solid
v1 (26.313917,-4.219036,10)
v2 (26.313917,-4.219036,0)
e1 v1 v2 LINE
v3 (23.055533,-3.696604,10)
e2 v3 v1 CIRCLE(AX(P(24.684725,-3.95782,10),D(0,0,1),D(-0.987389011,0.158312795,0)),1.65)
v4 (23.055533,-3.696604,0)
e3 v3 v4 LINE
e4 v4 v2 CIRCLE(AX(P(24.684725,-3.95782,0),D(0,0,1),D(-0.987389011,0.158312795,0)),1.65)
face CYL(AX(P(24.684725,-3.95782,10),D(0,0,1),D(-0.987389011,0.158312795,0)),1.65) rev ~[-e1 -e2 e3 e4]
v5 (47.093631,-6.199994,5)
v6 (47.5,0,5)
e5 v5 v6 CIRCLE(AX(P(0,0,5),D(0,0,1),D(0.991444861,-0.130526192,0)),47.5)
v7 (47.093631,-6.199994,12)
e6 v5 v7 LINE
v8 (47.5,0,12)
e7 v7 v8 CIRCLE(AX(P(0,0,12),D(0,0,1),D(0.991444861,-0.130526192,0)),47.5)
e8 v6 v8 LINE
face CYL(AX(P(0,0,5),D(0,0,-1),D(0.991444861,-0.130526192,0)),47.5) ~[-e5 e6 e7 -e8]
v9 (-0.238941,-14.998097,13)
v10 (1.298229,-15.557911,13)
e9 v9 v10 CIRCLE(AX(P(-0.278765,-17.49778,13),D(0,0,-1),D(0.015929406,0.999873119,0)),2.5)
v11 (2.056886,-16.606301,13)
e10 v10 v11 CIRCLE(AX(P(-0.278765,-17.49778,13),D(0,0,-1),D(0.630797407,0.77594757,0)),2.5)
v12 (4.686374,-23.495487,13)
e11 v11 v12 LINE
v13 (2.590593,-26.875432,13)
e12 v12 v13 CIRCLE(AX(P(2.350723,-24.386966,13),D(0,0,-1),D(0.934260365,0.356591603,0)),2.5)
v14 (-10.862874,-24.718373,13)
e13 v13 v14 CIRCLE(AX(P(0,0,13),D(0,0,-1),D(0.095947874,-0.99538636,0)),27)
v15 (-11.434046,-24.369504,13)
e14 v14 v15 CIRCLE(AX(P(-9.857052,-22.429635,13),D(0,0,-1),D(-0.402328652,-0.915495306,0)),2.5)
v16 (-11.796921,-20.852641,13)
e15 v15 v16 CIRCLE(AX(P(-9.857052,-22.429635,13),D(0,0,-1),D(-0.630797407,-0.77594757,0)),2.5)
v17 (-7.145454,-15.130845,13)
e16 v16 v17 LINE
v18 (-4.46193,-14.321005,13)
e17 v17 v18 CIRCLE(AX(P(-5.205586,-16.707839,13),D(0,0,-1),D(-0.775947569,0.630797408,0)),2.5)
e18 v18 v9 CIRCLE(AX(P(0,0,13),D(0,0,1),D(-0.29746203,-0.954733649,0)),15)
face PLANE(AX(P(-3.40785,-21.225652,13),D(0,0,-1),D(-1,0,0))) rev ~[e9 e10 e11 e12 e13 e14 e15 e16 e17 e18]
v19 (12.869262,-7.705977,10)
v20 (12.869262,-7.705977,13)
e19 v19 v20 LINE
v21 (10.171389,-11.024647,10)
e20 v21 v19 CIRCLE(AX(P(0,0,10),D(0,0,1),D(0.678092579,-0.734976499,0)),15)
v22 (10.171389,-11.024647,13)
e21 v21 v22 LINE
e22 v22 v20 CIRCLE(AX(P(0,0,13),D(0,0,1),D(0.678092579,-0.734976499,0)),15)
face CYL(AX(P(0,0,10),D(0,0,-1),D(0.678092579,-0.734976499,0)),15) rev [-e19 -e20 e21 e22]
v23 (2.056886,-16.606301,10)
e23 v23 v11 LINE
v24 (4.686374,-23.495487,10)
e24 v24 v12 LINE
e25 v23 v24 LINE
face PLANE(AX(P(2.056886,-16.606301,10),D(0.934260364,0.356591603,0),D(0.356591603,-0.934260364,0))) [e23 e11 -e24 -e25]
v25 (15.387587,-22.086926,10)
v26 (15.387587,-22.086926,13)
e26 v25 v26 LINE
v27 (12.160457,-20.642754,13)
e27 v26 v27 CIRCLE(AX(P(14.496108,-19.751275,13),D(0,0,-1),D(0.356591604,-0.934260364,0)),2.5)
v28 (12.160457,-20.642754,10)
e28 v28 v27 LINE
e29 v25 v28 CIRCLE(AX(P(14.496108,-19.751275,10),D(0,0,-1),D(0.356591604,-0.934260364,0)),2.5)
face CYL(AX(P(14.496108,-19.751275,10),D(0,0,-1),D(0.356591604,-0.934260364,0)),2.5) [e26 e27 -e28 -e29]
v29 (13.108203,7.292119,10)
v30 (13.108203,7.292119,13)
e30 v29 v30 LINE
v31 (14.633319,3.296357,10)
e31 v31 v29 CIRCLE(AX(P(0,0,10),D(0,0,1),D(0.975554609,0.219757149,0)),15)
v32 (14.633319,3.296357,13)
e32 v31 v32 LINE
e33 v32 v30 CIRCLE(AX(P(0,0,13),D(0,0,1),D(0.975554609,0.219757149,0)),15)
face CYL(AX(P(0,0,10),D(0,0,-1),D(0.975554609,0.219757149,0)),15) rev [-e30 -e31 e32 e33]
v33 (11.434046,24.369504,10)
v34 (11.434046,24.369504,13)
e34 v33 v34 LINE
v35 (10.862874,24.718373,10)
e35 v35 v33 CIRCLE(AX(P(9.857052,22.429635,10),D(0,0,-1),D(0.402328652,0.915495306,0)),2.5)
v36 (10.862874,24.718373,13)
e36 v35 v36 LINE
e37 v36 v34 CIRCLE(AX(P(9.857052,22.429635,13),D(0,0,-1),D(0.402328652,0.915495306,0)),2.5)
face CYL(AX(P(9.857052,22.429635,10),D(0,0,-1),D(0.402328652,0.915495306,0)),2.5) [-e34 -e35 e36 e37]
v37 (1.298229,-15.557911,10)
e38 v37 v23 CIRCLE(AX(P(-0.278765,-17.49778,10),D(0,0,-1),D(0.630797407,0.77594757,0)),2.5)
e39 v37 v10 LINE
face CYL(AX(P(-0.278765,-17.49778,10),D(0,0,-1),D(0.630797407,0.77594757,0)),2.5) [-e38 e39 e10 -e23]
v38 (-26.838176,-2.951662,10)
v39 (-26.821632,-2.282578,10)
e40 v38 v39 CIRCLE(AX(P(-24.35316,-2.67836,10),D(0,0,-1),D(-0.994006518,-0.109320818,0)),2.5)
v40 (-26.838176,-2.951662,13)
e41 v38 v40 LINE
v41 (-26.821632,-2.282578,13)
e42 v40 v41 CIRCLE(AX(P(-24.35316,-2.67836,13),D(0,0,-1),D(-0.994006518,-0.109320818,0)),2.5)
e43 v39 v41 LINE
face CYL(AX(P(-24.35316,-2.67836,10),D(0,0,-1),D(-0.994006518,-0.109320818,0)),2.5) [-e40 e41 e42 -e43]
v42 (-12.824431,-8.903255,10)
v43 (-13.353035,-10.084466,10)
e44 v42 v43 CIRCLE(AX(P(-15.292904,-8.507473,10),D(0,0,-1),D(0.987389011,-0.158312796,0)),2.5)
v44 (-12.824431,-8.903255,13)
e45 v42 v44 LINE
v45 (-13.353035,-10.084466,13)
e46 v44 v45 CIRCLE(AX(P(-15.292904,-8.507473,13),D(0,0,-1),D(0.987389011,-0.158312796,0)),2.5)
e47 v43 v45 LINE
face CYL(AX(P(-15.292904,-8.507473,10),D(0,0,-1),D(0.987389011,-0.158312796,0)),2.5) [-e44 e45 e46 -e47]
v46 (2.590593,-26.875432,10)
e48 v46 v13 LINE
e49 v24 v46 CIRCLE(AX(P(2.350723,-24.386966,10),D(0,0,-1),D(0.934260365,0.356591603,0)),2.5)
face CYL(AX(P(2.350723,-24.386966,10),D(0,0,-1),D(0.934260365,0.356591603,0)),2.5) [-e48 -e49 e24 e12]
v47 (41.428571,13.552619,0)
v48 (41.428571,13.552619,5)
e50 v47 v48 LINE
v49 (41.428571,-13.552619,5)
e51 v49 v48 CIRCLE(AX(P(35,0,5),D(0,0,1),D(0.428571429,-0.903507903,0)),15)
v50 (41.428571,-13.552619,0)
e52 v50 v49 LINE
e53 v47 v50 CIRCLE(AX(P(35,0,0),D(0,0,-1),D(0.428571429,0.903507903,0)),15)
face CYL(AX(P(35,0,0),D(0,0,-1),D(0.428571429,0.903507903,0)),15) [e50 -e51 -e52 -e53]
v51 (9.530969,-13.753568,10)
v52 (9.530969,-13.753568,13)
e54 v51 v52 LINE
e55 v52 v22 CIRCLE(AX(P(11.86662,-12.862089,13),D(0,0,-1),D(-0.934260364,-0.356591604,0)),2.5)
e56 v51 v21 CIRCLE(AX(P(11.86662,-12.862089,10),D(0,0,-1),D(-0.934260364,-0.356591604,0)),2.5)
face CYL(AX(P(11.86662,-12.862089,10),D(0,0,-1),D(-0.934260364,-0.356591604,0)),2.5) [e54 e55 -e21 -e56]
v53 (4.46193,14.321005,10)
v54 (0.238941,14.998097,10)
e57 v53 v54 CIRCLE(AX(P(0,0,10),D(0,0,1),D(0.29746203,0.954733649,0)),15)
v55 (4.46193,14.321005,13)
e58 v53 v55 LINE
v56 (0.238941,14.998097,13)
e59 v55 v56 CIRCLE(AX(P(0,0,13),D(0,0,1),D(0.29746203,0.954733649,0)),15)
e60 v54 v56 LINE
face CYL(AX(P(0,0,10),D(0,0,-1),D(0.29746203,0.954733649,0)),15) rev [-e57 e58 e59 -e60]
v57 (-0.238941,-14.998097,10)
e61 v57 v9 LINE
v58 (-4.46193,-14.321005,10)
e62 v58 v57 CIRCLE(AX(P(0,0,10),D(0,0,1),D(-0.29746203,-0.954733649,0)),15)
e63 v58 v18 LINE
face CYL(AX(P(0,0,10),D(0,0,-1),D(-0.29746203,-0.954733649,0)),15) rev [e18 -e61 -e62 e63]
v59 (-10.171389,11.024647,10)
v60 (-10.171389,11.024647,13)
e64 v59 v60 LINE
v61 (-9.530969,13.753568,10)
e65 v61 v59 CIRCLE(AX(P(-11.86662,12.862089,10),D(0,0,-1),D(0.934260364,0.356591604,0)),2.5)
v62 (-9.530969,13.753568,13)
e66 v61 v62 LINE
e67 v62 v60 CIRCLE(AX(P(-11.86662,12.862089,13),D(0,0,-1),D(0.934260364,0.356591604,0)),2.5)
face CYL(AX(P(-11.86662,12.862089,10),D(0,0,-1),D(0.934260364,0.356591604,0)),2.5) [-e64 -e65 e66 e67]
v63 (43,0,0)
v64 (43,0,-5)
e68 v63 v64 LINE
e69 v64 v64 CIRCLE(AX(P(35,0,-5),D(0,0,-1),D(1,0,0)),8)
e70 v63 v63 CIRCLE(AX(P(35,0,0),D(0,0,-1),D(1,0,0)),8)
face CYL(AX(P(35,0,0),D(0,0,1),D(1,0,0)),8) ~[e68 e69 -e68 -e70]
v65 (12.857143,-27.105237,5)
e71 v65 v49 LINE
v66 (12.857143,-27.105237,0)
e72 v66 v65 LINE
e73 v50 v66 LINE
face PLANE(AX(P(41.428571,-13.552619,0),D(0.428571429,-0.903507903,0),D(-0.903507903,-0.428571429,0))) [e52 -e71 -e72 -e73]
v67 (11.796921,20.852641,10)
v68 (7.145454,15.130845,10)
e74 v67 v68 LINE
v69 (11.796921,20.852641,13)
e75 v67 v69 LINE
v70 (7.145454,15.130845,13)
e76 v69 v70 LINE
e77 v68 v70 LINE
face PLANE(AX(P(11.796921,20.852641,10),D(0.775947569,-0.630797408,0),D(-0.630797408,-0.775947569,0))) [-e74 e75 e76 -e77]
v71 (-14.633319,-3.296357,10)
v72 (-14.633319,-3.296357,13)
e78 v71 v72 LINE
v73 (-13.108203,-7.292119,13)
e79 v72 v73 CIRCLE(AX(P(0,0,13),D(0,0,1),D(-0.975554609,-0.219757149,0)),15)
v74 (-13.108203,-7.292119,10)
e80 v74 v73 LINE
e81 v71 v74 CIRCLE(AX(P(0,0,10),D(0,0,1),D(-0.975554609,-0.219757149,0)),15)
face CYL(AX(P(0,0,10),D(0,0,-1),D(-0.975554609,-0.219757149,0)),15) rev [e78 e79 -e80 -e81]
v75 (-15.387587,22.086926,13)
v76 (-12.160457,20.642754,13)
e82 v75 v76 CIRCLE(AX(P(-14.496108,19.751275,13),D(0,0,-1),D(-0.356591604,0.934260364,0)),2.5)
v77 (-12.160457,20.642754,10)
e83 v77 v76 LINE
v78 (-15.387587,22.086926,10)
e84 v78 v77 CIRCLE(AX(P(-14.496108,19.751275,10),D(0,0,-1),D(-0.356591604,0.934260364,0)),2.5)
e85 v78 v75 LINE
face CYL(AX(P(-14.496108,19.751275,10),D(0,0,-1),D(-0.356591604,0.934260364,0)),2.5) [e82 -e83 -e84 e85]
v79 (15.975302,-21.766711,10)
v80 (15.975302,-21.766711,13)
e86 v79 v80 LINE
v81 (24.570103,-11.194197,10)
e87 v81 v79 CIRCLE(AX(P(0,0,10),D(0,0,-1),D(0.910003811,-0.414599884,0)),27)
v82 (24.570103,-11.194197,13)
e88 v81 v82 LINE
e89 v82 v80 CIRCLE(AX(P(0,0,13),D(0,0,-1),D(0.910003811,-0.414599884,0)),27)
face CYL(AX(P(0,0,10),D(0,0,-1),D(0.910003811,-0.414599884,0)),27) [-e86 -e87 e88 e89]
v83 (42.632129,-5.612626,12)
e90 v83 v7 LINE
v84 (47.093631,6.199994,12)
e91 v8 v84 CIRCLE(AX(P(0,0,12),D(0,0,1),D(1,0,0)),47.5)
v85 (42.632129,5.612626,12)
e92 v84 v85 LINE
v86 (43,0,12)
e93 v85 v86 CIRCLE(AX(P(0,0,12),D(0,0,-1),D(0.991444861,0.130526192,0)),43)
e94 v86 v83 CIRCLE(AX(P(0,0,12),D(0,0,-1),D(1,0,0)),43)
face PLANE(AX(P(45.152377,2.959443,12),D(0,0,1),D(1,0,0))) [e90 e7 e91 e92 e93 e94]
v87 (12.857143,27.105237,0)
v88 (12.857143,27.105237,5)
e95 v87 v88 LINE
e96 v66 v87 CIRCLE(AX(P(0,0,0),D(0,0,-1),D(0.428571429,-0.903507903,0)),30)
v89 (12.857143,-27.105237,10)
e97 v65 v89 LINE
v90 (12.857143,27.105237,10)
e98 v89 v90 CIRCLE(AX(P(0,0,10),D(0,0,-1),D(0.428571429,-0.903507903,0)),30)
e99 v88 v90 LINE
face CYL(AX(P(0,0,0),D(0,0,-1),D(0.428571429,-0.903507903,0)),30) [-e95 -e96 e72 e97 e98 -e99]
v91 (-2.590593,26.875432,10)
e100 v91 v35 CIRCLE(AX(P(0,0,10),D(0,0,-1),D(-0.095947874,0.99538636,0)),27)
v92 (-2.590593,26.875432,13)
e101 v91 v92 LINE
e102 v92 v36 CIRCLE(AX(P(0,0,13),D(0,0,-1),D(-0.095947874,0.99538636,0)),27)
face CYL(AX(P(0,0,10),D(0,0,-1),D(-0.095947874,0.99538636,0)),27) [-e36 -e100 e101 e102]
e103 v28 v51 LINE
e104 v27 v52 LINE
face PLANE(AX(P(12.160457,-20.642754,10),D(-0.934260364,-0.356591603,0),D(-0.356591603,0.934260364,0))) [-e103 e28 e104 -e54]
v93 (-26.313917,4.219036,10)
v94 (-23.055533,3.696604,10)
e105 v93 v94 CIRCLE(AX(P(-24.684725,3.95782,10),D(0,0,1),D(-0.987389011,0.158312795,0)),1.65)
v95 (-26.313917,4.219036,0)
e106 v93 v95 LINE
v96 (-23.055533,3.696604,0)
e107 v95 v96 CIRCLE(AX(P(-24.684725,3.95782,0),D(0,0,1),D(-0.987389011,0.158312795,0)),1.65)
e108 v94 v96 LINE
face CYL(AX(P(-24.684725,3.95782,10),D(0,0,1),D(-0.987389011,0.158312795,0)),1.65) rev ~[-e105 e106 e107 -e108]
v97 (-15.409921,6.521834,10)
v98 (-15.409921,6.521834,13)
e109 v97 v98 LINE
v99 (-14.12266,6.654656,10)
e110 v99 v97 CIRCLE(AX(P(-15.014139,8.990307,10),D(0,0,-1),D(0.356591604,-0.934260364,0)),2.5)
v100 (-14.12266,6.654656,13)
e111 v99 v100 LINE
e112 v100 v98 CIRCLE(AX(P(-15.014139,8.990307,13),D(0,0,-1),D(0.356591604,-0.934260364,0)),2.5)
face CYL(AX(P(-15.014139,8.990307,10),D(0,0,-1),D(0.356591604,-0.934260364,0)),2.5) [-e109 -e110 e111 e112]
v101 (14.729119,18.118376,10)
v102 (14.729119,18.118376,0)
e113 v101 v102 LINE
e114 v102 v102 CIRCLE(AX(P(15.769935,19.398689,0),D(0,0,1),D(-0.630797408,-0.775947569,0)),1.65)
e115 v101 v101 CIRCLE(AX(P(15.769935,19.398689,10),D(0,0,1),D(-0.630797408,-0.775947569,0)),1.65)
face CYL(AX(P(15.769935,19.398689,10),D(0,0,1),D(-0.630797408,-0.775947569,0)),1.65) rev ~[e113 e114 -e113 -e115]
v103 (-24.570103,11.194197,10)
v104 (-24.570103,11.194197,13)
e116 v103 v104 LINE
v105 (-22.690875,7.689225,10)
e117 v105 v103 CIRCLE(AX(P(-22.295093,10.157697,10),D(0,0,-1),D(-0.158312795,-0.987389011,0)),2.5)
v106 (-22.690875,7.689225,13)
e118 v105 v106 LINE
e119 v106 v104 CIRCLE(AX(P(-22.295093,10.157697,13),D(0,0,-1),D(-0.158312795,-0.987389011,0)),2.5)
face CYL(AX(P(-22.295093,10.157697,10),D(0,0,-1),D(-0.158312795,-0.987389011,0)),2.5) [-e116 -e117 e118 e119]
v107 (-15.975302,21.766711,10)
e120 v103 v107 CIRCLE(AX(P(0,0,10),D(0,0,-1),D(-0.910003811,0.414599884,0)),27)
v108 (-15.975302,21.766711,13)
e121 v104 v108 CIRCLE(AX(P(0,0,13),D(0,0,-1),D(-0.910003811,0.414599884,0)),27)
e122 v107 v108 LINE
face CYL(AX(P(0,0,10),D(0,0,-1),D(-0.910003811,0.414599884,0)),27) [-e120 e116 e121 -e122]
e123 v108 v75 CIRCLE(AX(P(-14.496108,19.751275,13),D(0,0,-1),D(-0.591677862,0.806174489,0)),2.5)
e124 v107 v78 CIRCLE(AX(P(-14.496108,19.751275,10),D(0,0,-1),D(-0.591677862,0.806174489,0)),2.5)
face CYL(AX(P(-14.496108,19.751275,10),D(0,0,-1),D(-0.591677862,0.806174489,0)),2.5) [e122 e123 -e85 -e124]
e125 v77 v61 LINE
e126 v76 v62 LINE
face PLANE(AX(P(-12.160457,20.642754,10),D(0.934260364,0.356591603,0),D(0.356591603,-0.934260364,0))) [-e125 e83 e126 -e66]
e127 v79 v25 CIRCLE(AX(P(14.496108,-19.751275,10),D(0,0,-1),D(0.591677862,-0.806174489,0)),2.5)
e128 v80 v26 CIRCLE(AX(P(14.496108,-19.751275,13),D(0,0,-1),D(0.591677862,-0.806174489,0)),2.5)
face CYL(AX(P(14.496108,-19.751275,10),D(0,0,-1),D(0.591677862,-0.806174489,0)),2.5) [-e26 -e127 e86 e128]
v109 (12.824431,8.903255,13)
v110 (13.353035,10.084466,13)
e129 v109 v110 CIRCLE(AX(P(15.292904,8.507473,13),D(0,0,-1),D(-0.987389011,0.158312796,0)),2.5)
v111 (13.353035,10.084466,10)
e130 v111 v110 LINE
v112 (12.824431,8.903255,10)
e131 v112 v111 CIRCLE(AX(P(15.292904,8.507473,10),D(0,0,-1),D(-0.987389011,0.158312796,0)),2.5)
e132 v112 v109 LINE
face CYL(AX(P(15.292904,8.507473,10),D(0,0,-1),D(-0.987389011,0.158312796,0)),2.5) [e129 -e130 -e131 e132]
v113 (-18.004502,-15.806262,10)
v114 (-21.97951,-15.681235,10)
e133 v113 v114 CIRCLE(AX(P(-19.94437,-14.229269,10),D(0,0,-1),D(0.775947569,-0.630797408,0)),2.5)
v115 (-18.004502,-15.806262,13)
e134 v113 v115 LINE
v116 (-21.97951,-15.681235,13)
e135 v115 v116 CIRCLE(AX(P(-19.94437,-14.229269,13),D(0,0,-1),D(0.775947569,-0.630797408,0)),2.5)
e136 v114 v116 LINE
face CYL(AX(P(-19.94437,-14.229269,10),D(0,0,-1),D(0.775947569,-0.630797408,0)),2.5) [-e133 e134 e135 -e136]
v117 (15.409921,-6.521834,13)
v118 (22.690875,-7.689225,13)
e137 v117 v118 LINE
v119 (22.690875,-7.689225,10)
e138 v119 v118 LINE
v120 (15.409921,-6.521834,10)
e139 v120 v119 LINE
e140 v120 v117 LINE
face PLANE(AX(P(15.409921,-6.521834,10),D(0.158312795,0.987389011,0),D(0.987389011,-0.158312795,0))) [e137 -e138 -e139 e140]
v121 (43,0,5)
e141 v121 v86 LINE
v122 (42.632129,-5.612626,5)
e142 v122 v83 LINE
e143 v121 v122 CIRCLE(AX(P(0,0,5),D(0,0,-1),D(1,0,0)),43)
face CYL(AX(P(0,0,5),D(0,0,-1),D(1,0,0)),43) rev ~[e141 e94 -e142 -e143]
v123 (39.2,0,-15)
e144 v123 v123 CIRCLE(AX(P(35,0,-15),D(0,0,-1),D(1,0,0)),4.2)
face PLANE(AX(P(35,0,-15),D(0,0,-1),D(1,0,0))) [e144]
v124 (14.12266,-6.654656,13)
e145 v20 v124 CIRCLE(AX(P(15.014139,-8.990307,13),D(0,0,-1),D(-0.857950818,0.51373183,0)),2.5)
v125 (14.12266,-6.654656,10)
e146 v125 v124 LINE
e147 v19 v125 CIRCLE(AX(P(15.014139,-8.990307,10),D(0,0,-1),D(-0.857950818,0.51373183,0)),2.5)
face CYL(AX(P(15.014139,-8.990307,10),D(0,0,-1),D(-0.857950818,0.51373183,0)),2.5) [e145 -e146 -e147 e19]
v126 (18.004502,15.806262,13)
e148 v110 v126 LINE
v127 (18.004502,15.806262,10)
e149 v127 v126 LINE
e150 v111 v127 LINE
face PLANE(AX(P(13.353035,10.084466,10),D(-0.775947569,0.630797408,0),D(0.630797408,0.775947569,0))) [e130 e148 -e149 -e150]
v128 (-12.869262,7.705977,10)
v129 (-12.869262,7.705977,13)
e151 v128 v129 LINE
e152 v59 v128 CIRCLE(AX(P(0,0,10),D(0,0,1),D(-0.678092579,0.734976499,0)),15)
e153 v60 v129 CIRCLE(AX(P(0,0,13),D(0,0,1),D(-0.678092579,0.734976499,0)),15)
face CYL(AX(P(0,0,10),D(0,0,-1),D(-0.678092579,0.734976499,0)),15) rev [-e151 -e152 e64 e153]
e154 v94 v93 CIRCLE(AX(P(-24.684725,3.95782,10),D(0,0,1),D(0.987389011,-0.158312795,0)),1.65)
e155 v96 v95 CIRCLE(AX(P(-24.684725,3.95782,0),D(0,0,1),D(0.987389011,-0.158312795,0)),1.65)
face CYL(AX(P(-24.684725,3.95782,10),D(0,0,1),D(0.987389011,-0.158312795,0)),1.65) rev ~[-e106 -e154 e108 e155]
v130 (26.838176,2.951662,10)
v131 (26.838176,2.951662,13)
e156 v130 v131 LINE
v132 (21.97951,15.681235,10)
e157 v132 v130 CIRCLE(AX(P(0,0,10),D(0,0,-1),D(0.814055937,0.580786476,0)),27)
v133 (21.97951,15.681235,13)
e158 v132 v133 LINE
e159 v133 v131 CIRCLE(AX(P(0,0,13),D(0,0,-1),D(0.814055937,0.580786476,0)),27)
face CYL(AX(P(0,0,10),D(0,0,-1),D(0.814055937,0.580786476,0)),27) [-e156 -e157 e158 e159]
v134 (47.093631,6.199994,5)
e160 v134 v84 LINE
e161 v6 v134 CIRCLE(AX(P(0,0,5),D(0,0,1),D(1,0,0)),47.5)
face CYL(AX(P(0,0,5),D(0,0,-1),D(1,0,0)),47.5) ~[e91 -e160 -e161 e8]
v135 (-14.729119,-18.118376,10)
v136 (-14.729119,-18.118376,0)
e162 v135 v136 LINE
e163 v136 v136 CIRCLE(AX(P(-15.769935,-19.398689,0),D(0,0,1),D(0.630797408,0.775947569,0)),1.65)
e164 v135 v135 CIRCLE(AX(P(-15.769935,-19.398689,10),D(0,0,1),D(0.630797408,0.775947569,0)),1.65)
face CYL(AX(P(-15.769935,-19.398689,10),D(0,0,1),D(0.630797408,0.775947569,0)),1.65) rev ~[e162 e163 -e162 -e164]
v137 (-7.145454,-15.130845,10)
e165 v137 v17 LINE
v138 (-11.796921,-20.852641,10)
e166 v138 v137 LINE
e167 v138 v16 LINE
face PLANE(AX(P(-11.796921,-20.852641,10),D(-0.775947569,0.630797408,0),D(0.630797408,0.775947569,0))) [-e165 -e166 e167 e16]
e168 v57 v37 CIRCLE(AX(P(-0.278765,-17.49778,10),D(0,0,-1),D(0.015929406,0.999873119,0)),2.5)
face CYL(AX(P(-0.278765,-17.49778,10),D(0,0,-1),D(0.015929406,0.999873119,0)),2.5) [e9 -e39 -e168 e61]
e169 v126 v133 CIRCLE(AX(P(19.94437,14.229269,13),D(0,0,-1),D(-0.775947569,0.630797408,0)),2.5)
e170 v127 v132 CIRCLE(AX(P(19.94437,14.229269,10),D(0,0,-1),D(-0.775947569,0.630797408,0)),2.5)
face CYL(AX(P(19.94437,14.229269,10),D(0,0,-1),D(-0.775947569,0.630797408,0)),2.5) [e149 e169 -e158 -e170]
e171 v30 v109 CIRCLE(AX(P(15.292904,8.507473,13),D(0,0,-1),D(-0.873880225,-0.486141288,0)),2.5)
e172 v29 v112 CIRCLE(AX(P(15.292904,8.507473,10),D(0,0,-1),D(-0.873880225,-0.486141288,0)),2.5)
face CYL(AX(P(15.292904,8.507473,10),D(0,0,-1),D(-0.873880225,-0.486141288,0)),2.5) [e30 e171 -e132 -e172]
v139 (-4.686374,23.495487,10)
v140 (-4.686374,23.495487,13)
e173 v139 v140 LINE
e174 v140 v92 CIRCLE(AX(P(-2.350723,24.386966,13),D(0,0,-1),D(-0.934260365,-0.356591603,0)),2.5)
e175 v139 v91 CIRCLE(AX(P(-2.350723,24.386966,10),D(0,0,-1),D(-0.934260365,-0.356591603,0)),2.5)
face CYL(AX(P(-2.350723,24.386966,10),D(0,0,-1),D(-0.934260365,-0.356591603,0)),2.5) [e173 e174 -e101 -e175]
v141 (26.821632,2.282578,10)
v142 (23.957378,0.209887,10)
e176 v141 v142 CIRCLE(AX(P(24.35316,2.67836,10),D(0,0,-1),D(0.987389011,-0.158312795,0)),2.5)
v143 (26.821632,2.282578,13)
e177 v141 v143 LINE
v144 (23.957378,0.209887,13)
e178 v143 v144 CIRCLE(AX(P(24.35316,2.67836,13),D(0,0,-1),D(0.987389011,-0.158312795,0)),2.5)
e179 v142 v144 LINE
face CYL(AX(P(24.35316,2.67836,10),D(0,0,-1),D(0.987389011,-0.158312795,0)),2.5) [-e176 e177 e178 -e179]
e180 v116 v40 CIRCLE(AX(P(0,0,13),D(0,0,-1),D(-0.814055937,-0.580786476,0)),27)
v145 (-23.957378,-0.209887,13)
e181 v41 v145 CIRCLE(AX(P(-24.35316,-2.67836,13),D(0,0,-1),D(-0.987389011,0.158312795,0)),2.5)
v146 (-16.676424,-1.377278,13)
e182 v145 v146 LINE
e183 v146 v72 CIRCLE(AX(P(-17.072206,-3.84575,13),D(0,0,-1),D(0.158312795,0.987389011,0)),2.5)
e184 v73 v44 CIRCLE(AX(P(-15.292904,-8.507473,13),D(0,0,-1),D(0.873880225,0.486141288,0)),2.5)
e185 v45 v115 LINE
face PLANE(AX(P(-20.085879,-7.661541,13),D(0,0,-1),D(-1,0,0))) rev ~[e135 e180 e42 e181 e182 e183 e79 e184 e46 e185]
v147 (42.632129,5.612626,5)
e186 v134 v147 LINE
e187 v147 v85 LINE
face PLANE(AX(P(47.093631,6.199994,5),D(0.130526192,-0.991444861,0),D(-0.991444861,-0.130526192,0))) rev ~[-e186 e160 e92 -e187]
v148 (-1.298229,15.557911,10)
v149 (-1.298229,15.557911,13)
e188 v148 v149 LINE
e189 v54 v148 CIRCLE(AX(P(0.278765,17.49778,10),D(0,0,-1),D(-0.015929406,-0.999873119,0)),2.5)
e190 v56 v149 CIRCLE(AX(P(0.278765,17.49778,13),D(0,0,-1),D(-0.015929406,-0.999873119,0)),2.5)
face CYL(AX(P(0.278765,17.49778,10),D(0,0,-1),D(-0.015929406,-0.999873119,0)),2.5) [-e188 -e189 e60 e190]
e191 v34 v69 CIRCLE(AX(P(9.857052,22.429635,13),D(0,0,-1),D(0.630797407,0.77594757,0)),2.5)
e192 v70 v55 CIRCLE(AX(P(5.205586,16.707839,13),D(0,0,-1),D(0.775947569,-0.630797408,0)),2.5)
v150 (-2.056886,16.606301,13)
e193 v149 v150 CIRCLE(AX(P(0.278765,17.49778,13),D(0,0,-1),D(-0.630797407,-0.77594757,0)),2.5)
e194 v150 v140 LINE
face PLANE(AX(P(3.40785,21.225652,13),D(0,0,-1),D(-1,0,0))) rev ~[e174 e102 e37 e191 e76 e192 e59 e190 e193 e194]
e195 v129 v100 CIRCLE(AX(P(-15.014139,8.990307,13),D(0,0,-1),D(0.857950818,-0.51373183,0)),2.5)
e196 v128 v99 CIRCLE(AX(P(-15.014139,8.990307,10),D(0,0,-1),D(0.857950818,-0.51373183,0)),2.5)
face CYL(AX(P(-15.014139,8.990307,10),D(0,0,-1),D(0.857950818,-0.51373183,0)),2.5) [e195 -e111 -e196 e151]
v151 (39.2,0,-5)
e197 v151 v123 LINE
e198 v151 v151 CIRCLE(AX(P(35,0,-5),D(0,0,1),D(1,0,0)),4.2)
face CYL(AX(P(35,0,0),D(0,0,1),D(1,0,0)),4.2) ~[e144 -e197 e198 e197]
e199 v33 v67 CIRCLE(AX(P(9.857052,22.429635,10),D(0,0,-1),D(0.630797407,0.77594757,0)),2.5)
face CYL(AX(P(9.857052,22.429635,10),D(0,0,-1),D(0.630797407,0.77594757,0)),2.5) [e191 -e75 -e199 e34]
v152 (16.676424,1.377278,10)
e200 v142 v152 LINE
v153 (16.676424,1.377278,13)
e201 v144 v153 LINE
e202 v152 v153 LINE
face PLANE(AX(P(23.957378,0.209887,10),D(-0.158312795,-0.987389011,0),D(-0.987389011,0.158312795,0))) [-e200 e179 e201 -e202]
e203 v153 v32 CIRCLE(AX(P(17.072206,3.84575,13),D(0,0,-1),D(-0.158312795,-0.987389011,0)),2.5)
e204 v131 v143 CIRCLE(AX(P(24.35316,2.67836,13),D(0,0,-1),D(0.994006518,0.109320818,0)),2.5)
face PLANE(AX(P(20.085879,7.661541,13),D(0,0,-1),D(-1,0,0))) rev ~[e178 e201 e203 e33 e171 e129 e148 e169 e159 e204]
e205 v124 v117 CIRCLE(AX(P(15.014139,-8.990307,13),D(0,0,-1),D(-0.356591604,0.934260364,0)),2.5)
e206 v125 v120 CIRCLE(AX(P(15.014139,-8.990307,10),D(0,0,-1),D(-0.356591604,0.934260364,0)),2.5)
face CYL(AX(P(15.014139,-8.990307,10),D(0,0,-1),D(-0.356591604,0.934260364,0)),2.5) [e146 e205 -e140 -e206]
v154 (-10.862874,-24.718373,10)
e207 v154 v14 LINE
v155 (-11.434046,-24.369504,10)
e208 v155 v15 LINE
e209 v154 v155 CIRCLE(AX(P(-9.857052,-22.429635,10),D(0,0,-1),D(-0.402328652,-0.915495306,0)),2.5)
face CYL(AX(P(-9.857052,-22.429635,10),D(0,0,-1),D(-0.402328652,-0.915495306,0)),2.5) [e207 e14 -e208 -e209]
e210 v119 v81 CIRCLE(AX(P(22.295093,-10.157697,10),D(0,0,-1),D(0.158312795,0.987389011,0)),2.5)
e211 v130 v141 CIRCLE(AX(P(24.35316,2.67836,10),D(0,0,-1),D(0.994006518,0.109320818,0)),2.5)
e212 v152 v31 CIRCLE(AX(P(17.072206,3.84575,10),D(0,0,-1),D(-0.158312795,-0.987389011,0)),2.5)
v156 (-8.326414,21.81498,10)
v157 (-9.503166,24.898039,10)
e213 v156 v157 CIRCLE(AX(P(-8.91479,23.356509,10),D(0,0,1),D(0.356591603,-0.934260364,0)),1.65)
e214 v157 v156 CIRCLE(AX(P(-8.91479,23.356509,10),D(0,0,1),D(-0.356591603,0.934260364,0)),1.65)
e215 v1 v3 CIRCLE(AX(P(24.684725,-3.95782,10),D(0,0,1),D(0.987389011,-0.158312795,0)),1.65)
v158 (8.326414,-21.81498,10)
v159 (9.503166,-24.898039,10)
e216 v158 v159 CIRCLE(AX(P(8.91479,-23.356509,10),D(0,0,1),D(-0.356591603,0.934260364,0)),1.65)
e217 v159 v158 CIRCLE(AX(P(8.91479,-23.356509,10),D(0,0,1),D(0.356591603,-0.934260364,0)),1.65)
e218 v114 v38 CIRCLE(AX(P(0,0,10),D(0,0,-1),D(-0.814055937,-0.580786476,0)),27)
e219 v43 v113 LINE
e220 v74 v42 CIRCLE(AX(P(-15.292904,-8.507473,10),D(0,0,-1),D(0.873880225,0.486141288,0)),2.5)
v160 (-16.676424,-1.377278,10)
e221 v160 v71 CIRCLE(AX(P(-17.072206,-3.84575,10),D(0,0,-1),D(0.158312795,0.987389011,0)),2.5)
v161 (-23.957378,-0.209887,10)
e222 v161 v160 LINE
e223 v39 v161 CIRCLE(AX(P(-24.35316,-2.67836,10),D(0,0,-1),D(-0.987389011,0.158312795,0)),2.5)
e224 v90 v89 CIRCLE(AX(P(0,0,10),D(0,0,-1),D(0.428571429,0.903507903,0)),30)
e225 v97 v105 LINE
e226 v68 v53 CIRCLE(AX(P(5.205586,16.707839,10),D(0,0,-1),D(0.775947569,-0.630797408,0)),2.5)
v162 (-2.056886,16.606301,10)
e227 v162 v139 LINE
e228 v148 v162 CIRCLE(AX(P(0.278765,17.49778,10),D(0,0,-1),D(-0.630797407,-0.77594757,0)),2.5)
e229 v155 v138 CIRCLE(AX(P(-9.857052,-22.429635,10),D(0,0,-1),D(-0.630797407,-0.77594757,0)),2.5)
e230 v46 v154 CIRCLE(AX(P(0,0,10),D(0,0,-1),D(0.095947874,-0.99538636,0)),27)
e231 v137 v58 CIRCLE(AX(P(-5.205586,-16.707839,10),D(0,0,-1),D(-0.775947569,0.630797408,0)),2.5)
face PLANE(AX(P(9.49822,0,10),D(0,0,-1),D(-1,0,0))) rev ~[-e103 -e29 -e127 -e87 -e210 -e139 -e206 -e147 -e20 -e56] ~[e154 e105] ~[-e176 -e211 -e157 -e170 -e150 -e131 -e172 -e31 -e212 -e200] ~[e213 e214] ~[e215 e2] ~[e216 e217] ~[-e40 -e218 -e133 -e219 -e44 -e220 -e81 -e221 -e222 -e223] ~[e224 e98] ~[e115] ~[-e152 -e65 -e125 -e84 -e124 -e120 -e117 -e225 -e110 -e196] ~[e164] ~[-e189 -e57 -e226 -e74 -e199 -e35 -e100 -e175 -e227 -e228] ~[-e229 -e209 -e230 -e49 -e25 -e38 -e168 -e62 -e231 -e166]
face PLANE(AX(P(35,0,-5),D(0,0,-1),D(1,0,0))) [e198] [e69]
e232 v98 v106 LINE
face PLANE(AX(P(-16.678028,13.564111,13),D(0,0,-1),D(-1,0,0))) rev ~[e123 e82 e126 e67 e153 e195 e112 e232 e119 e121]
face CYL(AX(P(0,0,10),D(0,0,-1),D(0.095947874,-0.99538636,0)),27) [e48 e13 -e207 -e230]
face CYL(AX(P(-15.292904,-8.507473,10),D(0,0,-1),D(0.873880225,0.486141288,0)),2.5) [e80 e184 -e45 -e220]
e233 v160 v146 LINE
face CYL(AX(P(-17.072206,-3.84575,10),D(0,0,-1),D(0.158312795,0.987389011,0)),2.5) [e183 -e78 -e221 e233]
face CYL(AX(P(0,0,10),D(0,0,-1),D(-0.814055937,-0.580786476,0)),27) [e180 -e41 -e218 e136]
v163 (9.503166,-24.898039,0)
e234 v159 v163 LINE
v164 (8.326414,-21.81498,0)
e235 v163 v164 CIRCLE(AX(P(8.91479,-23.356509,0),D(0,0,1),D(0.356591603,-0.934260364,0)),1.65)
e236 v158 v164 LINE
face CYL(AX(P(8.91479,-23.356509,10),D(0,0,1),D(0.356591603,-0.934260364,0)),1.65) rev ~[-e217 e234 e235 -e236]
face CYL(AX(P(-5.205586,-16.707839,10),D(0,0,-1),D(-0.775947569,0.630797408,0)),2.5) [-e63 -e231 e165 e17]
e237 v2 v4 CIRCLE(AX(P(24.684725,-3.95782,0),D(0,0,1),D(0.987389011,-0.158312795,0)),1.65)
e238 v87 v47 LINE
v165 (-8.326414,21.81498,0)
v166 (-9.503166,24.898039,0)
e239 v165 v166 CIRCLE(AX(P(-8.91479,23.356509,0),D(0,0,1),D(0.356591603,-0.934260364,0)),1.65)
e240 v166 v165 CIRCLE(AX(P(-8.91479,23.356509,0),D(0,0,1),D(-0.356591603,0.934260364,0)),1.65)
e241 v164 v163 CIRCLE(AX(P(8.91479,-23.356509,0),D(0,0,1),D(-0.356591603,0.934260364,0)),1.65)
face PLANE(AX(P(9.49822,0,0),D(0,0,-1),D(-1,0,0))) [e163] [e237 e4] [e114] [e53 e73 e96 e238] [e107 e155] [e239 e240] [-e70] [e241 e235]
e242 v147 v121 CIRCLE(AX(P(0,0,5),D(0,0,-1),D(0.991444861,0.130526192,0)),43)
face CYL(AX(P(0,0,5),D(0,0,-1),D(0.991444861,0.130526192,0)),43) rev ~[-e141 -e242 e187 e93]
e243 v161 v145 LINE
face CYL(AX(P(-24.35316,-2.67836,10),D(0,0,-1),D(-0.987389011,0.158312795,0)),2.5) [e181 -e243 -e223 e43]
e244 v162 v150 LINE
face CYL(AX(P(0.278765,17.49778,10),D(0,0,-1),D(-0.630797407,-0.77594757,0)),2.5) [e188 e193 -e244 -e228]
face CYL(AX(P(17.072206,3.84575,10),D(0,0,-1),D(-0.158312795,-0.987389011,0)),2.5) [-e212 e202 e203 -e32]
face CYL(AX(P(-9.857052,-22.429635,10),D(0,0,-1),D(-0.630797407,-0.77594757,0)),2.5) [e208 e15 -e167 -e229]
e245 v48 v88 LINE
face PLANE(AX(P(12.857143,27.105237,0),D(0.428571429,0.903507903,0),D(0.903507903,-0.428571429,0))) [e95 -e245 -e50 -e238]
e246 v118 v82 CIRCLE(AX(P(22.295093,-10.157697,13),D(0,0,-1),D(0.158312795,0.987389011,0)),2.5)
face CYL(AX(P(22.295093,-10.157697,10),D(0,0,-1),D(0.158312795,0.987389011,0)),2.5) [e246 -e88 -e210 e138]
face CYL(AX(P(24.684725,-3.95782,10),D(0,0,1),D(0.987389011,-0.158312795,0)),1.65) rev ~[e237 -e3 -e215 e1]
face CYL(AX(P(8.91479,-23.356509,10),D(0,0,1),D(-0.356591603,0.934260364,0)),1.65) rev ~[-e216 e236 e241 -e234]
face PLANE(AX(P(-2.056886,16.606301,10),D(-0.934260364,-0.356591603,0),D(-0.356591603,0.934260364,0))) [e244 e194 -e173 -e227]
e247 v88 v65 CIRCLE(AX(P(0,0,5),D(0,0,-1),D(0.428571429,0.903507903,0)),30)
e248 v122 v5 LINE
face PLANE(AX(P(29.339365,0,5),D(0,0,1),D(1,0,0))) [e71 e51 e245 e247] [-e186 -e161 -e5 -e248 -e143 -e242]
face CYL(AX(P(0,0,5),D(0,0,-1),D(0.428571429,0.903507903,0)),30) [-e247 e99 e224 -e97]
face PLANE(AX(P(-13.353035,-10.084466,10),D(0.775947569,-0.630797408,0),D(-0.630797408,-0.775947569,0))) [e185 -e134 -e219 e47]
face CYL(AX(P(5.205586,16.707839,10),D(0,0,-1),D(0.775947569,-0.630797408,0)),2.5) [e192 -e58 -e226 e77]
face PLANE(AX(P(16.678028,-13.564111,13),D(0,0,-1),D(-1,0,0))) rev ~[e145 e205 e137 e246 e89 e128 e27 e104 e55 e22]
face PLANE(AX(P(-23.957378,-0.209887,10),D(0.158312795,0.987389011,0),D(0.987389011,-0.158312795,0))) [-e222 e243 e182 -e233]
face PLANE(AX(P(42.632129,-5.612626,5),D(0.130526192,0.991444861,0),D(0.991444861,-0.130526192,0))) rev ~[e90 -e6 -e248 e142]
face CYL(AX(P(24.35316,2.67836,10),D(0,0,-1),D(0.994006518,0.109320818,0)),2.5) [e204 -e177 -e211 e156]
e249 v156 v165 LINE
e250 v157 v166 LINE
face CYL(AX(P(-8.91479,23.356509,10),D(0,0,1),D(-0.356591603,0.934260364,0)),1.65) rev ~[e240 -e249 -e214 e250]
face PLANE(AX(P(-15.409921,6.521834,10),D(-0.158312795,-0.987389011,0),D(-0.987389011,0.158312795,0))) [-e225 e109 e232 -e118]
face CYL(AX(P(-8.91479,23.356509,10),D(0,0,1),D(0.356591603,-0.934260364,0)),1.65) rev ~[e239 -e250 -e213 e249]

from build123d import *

# Parameters (mm, degrees)
EXTRUDE_1_DEPTH     = 10
EXTRUDE_2_DEPTH     = 3
CUT_EXTRUDE_1_DEPTH = 60.160797831
CUT_EXTRUDE_START   = -5
CUT_EXTRUDE_2_DEPTH = 5
SKETCH_6_R          = 4.2
EXTRUDE_3_DEPTH     = 15
SKETCH_7_R          = 8
EXTRUDE_4_DEPTH     = 5
EXTRUDE_6_DEPTH     = 7


with BuildPart() as part:
    # 草图1 → 凸台-拉伸1 (new body)
    with BuildSketch(Plane.XY):
        with BuildLine():
            Line((12.857142857, 27.105237087), (41.428571429, 13.552618544))
            ThreePointArc((41.428571429, 13.552618544), (50, 0), (41.428571429, -13.552618544))
            Line((41.428571429, -13.552618544), (12.857142857, -27.105237087))
            ThreePointArc((12.857142857, -27.105237087), (-30, 0), (12.857142857, 27.105237087))
        make_face()
    extrude(amount=EXTRUDE_1_DEPTH)

    # 草图2 → 凸台-拉伸2 (add)
    with BuildSketch(Plane.XY.offset(10)):
        with BuildLine():
            Line((23.957377721, 0.209887463), (16.67642367, 1.377277592))
            ThreePointArc((16.67642367, 1.377277592), (15.360611936, 2.023540765), (14.633319135, 3.296357245))
            ThreePointArc((14.633319135, 3.296357245), (14.013905466, 5.34887405), (13.10820337, 7.292119336))
            ThreePointArc((13.10820337, 7.292119336), (12.830802367, 8.073818452), (12.824431404, 8.903254546))
            ThreePointArc((12.824431404, 8.903254546), (13.010978482, 9.528656304), (13.353035008, 10.084466078))
            Line((13.353035008, 10.084466078), (18.004501541, 15.806262185))
            ThreePointArc((18.004501541, 15.806262185), (20.022964964, 16.728032941), (21.979510308, 15.681234856))
            ThreePointArc((21.979510308, 15.681234856), (25.225029838, 9.62797329), (26.838176005, 2.95166203))
            ThreePointArc((26.838176005, 2.95166203), (26.85239584, 2.616563886), (26.821632235, 2.282578003))
            ThreePointArc((26.821632235, 2.282578003), (25.818773244, 0.6530262), (23.957377721, 0.209887463))
        make_face()
        with BuildLine():
            Line((15.409921311, -6.521834496), (22.690875361, -7.689224625))
            ThreePointArc((22.690875361, -7.689224625), (24.498383964, -8.976379847), (24.570102902, -11.194196862))
            ThreePointArc((24.570102902, -11.194196862), (20.950584375, -17.031530006), (15.975302304, -21.766711196))
            ThreePointArc((15.975302304, -21.766711196), (15.692208716, -21.946575006), (15.387586654, -22.086925885))
            ThreePointArc((15.387586654, -22.086925885), (13.4749239, -22.033200424), (12.160456735, -20.642753983))
            Line((12.160456735, -20.642753983), (9.530969218, -13.753567747))
            ThreePointArc((9.530969218, -13.753567747), (9.432743676, -12.290909771), (10.171388682, -11.02464749))
            ThreePointArc((10.171388682, -11.02464749), (11.639213542, -9.461961114), (12.869262278, -7.705977448))
            ThreePointArc((12.869262278, -7.705977448), (13.407533068, -7.074891575), (14.122660315, -6.654656112))
            ThreePointArc((14.122660315, -6.654656112), (14.757547664, -6.503509741), (15.409921311, -6.521834496))
        make_face()
        with BuildLine():
            Line((2.056886303, -16.606300573), (4.68637382, -23.49548681))
            ThreePointArc((4.68637382, -23.49548681), (4.475419, -25.704412788), (2.590592594, -26.875431718))
            ThreePointArc((2.590592594, -26.875431718), (-4.274445463, -26.659503296), (-10.862873701, -24.718373226))
            ThreePointArc((-10.862873701, -24.718373226), (-11.160187124, -24.563138893), (-11.434045581, -24.369503888))
            ThreePointArc((-11.434045581, -24.369503888), (-12.343849344, -22.686226624), (-11.796920986, -20.852641446))
            Line((-11.796920986, -20.852641446), (-7.145454452, -15.130845339))
            ThreePointArc((-7.145454452, -15.130845339), (-5.92786826, -14.314450537), (-4.461930453, -14.321004735))
            ThreePointArc((-4.461930453, -14.321004735), (-2.374691924, -14.810835164), (-0.238941092, -14.998096784))
            ThreePointArc((-0.238941092, -14.998096784), (0.576730701, -15.148710026), (1.298228911, -15.557910658))
            ThreePointArc((1.298228911, -15.557910658), (1.746569183, -16.032166046), (2.056886303, -16.606300573))
        make_face()
        with BuildLine():
            Line((-13.353035008, -10.084466078), (-18.004501541, -15.806262185))
            ThreePointArc((-18.004501541, -15.806262185), (-20.022964964, -16.728032941), (-21.979510308, -15.681234856))
            ThreePointArc((-21.979510308, -15.681234856), (-25.225029838, -9.62797329), (-26.838176005, -2.95166203))
            ThreePointArc((-26.838176005, -2.95166203), (-26.85239584, -2.616563886), (-26.821632235, -2.282578003))
            ThreePointArc((-26.821632235, -2.282578003), (-25.818773244, -0.6530262), (-23.957377721, -0.209887463))
            Line((-23.957377721, -0.209887463), (-16.67642367, -1.377277592))
            ThreePointArc((-16.67642367, -1.377277592), (-15.360611936, -2.023540765), (-14.633319135, -3.296357245))
            ThreePointArc((-14.633319135, -3.296357245), (-14.013905466, -5.34887405), (-13.10820337, -7.292119336))
            ThreePointArc((-13.10820337, -7.292119336), (-12.830802367, -8.073818452), (-12.824431404, -8.903254546))
            ThreePointArc((-12.824431404, -8.903254546), (-13.010978482, -9.528656304), (-13.353035008, -10.084466078))
        make_face()
        with BuildLine():
            Line((-15.409921311, 6.521834496), (-22.690875361, 7.689224625))
            ThreePointArc((-22.690875361, 7.689224625), (-24.498383964, 8.976379847), (-24.570102902, 11.194196862))
            ThreePointArc((-24.570102902, 11.194196862), (-20.950584375, 17.031530006), (-15.975302304, 21.766711196))
            ThreePointArc((-15.975302304, 21.766711196), (-15.692208716, 21.946575006), (-15.387586654, 22.086925885))
            ThreePointArc((-15.387586654, 22.086925885), (-13.4749239, 22.033200424), (-12.160456735, 20.642753983))
            Line((-12.160456735, 20.642753983), (-9.530969218, 13.753567747))
            ThreePointArc((-9.530969218, 13.753567747), (-9.432743676, 12.290909771), (-10.171388682, 11.02464749))
            ThreePointArc((-10.171388682, 11.02464749), (-11.639213542, 9.461961114), (-12.869262278, 7.705977448))
            ThreePointArc((-12.869262278, 7.705977448), (-13.407533068, 7.074891575), (-14.122660315, 6.654656112))
            ThreePointArc((-14.122660315, 6.654656112), (-14.757547664, 6.503509741), (-15.409921311, 6.521834496))
        make_face()
        with BuildLine():
            Line((-2.056886303, 16.606300573), (-4.68637382, 23.49548681))
            ThreePointArc((-4.68637382, 23.49548681), (-4.475419, 25.704412788), (-2.590592594, 26.875431718))
            ThreePointArc((-2.590592594, 26.875431718), (4.274445463, 26.659503296), (10.862873701, 24.718373226))
            ThreePointArc((10.862873701, 24.718373226), (11.160187124, 24.563138893), (11.434045581, 24.369503888))
            ThreePointArc((11.434045581, 24.369503888), (12.343849344, 22.686226624), (11.796920986, 20.852641446))
            Line((11.796920986, 20.852641446), (7.145454452, 15.130845339))
            ThreePointArc((7.145454452, 15.130845339), (5.92786826, 14.314450537), (4.461930453, 14.321004735))
            ThreePointArc((4.461930453, 14.321004735), (2.374691924, 14.810835164), (0.238941092, 14.998096784))
            ThreePointArc((0.238941092, 14.998096784), (-0.576730701, 15.148710026), (-1.298228911, 15.557910658))
            ThreePointArc((-1.298228911, 15.557910658), (-1.746569183, 16.032166046), (-2.056886303, 16.606300573))
        make_face()
    extrude(amount=EXTRUDE_2_DEPTH)

    # 草图4 → 切除-拉伸1 (cut, through all)
    with BuildSketch(Plane.XY.offset(10)):
        with BuildLine():
            ThreePointArc((26.313917142, -4.219035984), (24.945941386, -2.328628005), (23.055533406, -3.696603761))
            ThreePointArc((23.055533406, -3.696603761), (24.423509162, -5.587011741), (26.313917142, -4.219035984))
        make_face()
        with BuildLine():
            ThreePointArc((9.503166229, -24.89803871), (10.456319685, -22.768132964), (8.326413938, -21.814979508))
            ThreePointArc((8.326413938, -21.814979508), (7.373260482, -23.944885255), (9.503166229, -24.89803871))
        make_face()
        with BuildLine():
            ThreePointArc((-16.810750913, -20.679002726), (-14.489621701, -20.439504959), (-14.729119468, -18.118375747))
            ThreePointArc((-14.729119468, -18.118375747), (-17.05024868, -18.357873514), (-16.810750913, -20.679002726))
        make_face()
        with BuildLine():
            ThreePointArc((-26.313917142, 4.219035984), (-24.945941386, 2.328628005), (-23.055533406, 3.696603761))
            ThreePointArc((-23.055533406, 3.696603761), (-24.423509162, 5.587011741), (-26.313917142, 4.219035984))
        make_face()
        with BuildLine():
            ThreePointArc((-9.503166229, 24.89803871), (-10.456319685, 22.768132964), (-8.326413938, 21.814979508))
            ThreePointArc((-8.326413938, 21.814979508), (-7.373260482, 23.944885255), (-9.503166229, 24.89803871))
        make_face()
        with BuildLine():
            ThreePointArc((16.810750913, 20.679002726), (14.489621701, 20.439504959), (14.729119468, 18.118375747))
            ThreePointArc((14.729119468, 18.118375747), (17.05024868, 18.357873514), (16.810750913, 20.679002726))
        make_face()
    extrude(amount=-CUT_EXTRUDE_1_DEPTH, mode=Mode.SUBTRACT)

    # 草图5 → 切除-拉伸2 (cut)
    with BuildSketch(Plane.XY.offset(10).offset(CUT_EXTRUDE_START)):
        with BuildLine():
            Line((41.428571429, 13.552618544), (12.857142857, 27.105237087))
            ThreePointArc((12.857142857, 27.105237087), (30, 0), (12.857142857, -27.105237087))
            Line((12.857142857, -27.105237087), (41.428571429, -13.552618544))
            ThreePointArc((41.428571429, -13.552618544), (50, 0), (41.428571429, 13.552618544))
        make_face()
    extrude(amount=CUT_EXTRUDE_2_DEPTH, mode=Mode.SUBTRACT)

    # 草图6 → 凸台-拉伸3 (add)
    with BuildSketch(Plane(origin=(0, 0, 0), x_dir=(-1, 0, 0), z_dir=(0, 0, -1))):
        with Locations(Location((-35, 0, 0), (0, 0, 180))):
            Circle(SKETCH_6_R)
    extrude(amount=EXTRUDE_3_DEPTH)

    # 草图7 → 凸台-拉伸4 (add)
    with BuildSketch(Plane(origin=(0, 0, 0), x_dir=(-1, 0, 0), z_dir=(0, 0, -1))):
        with Locations(Location((-35, 0, 0), (0, 0, 180))):
            Circle(SKETCH_7_R)
    extrude(amount=EXTRUDE_4_DEPTH)

    # 草图8 → 凸台-拉伸6 (add)
    with BuildSketch(Plane.XY.offset(5)):
        with BuildLine():
            ThreePointArc((42.632129039, 5.612626265), (42.907933699, 2.812334557), (43, 0))
            Line((43, 0), (47.5, 0))
            ThreePointArc((47.5, 0), (47.398298854, 3.106648638), (47.093630915, 6.19999413))
            Line((47.093630915, 6.19999413), (42.632129039, 5.612626265))
        make_face()
        with BuildLine():
            Line((47.5, 0), (43, 0))
            ThreePointArc((43, 0), (42.907933699, -2.812334557), (42.632129039, -5.612626265))
            Line((42.632129039, -5.612626265), (47.093630915, -6.19999413))
            ThreePointArc((47.093630915, -6.19999413), (47.398298854, -3.106648638), (47.5, 0))
        make_face()
    extrude(amount=EXTRUDE_6_DEPTH)


solid = part.part
